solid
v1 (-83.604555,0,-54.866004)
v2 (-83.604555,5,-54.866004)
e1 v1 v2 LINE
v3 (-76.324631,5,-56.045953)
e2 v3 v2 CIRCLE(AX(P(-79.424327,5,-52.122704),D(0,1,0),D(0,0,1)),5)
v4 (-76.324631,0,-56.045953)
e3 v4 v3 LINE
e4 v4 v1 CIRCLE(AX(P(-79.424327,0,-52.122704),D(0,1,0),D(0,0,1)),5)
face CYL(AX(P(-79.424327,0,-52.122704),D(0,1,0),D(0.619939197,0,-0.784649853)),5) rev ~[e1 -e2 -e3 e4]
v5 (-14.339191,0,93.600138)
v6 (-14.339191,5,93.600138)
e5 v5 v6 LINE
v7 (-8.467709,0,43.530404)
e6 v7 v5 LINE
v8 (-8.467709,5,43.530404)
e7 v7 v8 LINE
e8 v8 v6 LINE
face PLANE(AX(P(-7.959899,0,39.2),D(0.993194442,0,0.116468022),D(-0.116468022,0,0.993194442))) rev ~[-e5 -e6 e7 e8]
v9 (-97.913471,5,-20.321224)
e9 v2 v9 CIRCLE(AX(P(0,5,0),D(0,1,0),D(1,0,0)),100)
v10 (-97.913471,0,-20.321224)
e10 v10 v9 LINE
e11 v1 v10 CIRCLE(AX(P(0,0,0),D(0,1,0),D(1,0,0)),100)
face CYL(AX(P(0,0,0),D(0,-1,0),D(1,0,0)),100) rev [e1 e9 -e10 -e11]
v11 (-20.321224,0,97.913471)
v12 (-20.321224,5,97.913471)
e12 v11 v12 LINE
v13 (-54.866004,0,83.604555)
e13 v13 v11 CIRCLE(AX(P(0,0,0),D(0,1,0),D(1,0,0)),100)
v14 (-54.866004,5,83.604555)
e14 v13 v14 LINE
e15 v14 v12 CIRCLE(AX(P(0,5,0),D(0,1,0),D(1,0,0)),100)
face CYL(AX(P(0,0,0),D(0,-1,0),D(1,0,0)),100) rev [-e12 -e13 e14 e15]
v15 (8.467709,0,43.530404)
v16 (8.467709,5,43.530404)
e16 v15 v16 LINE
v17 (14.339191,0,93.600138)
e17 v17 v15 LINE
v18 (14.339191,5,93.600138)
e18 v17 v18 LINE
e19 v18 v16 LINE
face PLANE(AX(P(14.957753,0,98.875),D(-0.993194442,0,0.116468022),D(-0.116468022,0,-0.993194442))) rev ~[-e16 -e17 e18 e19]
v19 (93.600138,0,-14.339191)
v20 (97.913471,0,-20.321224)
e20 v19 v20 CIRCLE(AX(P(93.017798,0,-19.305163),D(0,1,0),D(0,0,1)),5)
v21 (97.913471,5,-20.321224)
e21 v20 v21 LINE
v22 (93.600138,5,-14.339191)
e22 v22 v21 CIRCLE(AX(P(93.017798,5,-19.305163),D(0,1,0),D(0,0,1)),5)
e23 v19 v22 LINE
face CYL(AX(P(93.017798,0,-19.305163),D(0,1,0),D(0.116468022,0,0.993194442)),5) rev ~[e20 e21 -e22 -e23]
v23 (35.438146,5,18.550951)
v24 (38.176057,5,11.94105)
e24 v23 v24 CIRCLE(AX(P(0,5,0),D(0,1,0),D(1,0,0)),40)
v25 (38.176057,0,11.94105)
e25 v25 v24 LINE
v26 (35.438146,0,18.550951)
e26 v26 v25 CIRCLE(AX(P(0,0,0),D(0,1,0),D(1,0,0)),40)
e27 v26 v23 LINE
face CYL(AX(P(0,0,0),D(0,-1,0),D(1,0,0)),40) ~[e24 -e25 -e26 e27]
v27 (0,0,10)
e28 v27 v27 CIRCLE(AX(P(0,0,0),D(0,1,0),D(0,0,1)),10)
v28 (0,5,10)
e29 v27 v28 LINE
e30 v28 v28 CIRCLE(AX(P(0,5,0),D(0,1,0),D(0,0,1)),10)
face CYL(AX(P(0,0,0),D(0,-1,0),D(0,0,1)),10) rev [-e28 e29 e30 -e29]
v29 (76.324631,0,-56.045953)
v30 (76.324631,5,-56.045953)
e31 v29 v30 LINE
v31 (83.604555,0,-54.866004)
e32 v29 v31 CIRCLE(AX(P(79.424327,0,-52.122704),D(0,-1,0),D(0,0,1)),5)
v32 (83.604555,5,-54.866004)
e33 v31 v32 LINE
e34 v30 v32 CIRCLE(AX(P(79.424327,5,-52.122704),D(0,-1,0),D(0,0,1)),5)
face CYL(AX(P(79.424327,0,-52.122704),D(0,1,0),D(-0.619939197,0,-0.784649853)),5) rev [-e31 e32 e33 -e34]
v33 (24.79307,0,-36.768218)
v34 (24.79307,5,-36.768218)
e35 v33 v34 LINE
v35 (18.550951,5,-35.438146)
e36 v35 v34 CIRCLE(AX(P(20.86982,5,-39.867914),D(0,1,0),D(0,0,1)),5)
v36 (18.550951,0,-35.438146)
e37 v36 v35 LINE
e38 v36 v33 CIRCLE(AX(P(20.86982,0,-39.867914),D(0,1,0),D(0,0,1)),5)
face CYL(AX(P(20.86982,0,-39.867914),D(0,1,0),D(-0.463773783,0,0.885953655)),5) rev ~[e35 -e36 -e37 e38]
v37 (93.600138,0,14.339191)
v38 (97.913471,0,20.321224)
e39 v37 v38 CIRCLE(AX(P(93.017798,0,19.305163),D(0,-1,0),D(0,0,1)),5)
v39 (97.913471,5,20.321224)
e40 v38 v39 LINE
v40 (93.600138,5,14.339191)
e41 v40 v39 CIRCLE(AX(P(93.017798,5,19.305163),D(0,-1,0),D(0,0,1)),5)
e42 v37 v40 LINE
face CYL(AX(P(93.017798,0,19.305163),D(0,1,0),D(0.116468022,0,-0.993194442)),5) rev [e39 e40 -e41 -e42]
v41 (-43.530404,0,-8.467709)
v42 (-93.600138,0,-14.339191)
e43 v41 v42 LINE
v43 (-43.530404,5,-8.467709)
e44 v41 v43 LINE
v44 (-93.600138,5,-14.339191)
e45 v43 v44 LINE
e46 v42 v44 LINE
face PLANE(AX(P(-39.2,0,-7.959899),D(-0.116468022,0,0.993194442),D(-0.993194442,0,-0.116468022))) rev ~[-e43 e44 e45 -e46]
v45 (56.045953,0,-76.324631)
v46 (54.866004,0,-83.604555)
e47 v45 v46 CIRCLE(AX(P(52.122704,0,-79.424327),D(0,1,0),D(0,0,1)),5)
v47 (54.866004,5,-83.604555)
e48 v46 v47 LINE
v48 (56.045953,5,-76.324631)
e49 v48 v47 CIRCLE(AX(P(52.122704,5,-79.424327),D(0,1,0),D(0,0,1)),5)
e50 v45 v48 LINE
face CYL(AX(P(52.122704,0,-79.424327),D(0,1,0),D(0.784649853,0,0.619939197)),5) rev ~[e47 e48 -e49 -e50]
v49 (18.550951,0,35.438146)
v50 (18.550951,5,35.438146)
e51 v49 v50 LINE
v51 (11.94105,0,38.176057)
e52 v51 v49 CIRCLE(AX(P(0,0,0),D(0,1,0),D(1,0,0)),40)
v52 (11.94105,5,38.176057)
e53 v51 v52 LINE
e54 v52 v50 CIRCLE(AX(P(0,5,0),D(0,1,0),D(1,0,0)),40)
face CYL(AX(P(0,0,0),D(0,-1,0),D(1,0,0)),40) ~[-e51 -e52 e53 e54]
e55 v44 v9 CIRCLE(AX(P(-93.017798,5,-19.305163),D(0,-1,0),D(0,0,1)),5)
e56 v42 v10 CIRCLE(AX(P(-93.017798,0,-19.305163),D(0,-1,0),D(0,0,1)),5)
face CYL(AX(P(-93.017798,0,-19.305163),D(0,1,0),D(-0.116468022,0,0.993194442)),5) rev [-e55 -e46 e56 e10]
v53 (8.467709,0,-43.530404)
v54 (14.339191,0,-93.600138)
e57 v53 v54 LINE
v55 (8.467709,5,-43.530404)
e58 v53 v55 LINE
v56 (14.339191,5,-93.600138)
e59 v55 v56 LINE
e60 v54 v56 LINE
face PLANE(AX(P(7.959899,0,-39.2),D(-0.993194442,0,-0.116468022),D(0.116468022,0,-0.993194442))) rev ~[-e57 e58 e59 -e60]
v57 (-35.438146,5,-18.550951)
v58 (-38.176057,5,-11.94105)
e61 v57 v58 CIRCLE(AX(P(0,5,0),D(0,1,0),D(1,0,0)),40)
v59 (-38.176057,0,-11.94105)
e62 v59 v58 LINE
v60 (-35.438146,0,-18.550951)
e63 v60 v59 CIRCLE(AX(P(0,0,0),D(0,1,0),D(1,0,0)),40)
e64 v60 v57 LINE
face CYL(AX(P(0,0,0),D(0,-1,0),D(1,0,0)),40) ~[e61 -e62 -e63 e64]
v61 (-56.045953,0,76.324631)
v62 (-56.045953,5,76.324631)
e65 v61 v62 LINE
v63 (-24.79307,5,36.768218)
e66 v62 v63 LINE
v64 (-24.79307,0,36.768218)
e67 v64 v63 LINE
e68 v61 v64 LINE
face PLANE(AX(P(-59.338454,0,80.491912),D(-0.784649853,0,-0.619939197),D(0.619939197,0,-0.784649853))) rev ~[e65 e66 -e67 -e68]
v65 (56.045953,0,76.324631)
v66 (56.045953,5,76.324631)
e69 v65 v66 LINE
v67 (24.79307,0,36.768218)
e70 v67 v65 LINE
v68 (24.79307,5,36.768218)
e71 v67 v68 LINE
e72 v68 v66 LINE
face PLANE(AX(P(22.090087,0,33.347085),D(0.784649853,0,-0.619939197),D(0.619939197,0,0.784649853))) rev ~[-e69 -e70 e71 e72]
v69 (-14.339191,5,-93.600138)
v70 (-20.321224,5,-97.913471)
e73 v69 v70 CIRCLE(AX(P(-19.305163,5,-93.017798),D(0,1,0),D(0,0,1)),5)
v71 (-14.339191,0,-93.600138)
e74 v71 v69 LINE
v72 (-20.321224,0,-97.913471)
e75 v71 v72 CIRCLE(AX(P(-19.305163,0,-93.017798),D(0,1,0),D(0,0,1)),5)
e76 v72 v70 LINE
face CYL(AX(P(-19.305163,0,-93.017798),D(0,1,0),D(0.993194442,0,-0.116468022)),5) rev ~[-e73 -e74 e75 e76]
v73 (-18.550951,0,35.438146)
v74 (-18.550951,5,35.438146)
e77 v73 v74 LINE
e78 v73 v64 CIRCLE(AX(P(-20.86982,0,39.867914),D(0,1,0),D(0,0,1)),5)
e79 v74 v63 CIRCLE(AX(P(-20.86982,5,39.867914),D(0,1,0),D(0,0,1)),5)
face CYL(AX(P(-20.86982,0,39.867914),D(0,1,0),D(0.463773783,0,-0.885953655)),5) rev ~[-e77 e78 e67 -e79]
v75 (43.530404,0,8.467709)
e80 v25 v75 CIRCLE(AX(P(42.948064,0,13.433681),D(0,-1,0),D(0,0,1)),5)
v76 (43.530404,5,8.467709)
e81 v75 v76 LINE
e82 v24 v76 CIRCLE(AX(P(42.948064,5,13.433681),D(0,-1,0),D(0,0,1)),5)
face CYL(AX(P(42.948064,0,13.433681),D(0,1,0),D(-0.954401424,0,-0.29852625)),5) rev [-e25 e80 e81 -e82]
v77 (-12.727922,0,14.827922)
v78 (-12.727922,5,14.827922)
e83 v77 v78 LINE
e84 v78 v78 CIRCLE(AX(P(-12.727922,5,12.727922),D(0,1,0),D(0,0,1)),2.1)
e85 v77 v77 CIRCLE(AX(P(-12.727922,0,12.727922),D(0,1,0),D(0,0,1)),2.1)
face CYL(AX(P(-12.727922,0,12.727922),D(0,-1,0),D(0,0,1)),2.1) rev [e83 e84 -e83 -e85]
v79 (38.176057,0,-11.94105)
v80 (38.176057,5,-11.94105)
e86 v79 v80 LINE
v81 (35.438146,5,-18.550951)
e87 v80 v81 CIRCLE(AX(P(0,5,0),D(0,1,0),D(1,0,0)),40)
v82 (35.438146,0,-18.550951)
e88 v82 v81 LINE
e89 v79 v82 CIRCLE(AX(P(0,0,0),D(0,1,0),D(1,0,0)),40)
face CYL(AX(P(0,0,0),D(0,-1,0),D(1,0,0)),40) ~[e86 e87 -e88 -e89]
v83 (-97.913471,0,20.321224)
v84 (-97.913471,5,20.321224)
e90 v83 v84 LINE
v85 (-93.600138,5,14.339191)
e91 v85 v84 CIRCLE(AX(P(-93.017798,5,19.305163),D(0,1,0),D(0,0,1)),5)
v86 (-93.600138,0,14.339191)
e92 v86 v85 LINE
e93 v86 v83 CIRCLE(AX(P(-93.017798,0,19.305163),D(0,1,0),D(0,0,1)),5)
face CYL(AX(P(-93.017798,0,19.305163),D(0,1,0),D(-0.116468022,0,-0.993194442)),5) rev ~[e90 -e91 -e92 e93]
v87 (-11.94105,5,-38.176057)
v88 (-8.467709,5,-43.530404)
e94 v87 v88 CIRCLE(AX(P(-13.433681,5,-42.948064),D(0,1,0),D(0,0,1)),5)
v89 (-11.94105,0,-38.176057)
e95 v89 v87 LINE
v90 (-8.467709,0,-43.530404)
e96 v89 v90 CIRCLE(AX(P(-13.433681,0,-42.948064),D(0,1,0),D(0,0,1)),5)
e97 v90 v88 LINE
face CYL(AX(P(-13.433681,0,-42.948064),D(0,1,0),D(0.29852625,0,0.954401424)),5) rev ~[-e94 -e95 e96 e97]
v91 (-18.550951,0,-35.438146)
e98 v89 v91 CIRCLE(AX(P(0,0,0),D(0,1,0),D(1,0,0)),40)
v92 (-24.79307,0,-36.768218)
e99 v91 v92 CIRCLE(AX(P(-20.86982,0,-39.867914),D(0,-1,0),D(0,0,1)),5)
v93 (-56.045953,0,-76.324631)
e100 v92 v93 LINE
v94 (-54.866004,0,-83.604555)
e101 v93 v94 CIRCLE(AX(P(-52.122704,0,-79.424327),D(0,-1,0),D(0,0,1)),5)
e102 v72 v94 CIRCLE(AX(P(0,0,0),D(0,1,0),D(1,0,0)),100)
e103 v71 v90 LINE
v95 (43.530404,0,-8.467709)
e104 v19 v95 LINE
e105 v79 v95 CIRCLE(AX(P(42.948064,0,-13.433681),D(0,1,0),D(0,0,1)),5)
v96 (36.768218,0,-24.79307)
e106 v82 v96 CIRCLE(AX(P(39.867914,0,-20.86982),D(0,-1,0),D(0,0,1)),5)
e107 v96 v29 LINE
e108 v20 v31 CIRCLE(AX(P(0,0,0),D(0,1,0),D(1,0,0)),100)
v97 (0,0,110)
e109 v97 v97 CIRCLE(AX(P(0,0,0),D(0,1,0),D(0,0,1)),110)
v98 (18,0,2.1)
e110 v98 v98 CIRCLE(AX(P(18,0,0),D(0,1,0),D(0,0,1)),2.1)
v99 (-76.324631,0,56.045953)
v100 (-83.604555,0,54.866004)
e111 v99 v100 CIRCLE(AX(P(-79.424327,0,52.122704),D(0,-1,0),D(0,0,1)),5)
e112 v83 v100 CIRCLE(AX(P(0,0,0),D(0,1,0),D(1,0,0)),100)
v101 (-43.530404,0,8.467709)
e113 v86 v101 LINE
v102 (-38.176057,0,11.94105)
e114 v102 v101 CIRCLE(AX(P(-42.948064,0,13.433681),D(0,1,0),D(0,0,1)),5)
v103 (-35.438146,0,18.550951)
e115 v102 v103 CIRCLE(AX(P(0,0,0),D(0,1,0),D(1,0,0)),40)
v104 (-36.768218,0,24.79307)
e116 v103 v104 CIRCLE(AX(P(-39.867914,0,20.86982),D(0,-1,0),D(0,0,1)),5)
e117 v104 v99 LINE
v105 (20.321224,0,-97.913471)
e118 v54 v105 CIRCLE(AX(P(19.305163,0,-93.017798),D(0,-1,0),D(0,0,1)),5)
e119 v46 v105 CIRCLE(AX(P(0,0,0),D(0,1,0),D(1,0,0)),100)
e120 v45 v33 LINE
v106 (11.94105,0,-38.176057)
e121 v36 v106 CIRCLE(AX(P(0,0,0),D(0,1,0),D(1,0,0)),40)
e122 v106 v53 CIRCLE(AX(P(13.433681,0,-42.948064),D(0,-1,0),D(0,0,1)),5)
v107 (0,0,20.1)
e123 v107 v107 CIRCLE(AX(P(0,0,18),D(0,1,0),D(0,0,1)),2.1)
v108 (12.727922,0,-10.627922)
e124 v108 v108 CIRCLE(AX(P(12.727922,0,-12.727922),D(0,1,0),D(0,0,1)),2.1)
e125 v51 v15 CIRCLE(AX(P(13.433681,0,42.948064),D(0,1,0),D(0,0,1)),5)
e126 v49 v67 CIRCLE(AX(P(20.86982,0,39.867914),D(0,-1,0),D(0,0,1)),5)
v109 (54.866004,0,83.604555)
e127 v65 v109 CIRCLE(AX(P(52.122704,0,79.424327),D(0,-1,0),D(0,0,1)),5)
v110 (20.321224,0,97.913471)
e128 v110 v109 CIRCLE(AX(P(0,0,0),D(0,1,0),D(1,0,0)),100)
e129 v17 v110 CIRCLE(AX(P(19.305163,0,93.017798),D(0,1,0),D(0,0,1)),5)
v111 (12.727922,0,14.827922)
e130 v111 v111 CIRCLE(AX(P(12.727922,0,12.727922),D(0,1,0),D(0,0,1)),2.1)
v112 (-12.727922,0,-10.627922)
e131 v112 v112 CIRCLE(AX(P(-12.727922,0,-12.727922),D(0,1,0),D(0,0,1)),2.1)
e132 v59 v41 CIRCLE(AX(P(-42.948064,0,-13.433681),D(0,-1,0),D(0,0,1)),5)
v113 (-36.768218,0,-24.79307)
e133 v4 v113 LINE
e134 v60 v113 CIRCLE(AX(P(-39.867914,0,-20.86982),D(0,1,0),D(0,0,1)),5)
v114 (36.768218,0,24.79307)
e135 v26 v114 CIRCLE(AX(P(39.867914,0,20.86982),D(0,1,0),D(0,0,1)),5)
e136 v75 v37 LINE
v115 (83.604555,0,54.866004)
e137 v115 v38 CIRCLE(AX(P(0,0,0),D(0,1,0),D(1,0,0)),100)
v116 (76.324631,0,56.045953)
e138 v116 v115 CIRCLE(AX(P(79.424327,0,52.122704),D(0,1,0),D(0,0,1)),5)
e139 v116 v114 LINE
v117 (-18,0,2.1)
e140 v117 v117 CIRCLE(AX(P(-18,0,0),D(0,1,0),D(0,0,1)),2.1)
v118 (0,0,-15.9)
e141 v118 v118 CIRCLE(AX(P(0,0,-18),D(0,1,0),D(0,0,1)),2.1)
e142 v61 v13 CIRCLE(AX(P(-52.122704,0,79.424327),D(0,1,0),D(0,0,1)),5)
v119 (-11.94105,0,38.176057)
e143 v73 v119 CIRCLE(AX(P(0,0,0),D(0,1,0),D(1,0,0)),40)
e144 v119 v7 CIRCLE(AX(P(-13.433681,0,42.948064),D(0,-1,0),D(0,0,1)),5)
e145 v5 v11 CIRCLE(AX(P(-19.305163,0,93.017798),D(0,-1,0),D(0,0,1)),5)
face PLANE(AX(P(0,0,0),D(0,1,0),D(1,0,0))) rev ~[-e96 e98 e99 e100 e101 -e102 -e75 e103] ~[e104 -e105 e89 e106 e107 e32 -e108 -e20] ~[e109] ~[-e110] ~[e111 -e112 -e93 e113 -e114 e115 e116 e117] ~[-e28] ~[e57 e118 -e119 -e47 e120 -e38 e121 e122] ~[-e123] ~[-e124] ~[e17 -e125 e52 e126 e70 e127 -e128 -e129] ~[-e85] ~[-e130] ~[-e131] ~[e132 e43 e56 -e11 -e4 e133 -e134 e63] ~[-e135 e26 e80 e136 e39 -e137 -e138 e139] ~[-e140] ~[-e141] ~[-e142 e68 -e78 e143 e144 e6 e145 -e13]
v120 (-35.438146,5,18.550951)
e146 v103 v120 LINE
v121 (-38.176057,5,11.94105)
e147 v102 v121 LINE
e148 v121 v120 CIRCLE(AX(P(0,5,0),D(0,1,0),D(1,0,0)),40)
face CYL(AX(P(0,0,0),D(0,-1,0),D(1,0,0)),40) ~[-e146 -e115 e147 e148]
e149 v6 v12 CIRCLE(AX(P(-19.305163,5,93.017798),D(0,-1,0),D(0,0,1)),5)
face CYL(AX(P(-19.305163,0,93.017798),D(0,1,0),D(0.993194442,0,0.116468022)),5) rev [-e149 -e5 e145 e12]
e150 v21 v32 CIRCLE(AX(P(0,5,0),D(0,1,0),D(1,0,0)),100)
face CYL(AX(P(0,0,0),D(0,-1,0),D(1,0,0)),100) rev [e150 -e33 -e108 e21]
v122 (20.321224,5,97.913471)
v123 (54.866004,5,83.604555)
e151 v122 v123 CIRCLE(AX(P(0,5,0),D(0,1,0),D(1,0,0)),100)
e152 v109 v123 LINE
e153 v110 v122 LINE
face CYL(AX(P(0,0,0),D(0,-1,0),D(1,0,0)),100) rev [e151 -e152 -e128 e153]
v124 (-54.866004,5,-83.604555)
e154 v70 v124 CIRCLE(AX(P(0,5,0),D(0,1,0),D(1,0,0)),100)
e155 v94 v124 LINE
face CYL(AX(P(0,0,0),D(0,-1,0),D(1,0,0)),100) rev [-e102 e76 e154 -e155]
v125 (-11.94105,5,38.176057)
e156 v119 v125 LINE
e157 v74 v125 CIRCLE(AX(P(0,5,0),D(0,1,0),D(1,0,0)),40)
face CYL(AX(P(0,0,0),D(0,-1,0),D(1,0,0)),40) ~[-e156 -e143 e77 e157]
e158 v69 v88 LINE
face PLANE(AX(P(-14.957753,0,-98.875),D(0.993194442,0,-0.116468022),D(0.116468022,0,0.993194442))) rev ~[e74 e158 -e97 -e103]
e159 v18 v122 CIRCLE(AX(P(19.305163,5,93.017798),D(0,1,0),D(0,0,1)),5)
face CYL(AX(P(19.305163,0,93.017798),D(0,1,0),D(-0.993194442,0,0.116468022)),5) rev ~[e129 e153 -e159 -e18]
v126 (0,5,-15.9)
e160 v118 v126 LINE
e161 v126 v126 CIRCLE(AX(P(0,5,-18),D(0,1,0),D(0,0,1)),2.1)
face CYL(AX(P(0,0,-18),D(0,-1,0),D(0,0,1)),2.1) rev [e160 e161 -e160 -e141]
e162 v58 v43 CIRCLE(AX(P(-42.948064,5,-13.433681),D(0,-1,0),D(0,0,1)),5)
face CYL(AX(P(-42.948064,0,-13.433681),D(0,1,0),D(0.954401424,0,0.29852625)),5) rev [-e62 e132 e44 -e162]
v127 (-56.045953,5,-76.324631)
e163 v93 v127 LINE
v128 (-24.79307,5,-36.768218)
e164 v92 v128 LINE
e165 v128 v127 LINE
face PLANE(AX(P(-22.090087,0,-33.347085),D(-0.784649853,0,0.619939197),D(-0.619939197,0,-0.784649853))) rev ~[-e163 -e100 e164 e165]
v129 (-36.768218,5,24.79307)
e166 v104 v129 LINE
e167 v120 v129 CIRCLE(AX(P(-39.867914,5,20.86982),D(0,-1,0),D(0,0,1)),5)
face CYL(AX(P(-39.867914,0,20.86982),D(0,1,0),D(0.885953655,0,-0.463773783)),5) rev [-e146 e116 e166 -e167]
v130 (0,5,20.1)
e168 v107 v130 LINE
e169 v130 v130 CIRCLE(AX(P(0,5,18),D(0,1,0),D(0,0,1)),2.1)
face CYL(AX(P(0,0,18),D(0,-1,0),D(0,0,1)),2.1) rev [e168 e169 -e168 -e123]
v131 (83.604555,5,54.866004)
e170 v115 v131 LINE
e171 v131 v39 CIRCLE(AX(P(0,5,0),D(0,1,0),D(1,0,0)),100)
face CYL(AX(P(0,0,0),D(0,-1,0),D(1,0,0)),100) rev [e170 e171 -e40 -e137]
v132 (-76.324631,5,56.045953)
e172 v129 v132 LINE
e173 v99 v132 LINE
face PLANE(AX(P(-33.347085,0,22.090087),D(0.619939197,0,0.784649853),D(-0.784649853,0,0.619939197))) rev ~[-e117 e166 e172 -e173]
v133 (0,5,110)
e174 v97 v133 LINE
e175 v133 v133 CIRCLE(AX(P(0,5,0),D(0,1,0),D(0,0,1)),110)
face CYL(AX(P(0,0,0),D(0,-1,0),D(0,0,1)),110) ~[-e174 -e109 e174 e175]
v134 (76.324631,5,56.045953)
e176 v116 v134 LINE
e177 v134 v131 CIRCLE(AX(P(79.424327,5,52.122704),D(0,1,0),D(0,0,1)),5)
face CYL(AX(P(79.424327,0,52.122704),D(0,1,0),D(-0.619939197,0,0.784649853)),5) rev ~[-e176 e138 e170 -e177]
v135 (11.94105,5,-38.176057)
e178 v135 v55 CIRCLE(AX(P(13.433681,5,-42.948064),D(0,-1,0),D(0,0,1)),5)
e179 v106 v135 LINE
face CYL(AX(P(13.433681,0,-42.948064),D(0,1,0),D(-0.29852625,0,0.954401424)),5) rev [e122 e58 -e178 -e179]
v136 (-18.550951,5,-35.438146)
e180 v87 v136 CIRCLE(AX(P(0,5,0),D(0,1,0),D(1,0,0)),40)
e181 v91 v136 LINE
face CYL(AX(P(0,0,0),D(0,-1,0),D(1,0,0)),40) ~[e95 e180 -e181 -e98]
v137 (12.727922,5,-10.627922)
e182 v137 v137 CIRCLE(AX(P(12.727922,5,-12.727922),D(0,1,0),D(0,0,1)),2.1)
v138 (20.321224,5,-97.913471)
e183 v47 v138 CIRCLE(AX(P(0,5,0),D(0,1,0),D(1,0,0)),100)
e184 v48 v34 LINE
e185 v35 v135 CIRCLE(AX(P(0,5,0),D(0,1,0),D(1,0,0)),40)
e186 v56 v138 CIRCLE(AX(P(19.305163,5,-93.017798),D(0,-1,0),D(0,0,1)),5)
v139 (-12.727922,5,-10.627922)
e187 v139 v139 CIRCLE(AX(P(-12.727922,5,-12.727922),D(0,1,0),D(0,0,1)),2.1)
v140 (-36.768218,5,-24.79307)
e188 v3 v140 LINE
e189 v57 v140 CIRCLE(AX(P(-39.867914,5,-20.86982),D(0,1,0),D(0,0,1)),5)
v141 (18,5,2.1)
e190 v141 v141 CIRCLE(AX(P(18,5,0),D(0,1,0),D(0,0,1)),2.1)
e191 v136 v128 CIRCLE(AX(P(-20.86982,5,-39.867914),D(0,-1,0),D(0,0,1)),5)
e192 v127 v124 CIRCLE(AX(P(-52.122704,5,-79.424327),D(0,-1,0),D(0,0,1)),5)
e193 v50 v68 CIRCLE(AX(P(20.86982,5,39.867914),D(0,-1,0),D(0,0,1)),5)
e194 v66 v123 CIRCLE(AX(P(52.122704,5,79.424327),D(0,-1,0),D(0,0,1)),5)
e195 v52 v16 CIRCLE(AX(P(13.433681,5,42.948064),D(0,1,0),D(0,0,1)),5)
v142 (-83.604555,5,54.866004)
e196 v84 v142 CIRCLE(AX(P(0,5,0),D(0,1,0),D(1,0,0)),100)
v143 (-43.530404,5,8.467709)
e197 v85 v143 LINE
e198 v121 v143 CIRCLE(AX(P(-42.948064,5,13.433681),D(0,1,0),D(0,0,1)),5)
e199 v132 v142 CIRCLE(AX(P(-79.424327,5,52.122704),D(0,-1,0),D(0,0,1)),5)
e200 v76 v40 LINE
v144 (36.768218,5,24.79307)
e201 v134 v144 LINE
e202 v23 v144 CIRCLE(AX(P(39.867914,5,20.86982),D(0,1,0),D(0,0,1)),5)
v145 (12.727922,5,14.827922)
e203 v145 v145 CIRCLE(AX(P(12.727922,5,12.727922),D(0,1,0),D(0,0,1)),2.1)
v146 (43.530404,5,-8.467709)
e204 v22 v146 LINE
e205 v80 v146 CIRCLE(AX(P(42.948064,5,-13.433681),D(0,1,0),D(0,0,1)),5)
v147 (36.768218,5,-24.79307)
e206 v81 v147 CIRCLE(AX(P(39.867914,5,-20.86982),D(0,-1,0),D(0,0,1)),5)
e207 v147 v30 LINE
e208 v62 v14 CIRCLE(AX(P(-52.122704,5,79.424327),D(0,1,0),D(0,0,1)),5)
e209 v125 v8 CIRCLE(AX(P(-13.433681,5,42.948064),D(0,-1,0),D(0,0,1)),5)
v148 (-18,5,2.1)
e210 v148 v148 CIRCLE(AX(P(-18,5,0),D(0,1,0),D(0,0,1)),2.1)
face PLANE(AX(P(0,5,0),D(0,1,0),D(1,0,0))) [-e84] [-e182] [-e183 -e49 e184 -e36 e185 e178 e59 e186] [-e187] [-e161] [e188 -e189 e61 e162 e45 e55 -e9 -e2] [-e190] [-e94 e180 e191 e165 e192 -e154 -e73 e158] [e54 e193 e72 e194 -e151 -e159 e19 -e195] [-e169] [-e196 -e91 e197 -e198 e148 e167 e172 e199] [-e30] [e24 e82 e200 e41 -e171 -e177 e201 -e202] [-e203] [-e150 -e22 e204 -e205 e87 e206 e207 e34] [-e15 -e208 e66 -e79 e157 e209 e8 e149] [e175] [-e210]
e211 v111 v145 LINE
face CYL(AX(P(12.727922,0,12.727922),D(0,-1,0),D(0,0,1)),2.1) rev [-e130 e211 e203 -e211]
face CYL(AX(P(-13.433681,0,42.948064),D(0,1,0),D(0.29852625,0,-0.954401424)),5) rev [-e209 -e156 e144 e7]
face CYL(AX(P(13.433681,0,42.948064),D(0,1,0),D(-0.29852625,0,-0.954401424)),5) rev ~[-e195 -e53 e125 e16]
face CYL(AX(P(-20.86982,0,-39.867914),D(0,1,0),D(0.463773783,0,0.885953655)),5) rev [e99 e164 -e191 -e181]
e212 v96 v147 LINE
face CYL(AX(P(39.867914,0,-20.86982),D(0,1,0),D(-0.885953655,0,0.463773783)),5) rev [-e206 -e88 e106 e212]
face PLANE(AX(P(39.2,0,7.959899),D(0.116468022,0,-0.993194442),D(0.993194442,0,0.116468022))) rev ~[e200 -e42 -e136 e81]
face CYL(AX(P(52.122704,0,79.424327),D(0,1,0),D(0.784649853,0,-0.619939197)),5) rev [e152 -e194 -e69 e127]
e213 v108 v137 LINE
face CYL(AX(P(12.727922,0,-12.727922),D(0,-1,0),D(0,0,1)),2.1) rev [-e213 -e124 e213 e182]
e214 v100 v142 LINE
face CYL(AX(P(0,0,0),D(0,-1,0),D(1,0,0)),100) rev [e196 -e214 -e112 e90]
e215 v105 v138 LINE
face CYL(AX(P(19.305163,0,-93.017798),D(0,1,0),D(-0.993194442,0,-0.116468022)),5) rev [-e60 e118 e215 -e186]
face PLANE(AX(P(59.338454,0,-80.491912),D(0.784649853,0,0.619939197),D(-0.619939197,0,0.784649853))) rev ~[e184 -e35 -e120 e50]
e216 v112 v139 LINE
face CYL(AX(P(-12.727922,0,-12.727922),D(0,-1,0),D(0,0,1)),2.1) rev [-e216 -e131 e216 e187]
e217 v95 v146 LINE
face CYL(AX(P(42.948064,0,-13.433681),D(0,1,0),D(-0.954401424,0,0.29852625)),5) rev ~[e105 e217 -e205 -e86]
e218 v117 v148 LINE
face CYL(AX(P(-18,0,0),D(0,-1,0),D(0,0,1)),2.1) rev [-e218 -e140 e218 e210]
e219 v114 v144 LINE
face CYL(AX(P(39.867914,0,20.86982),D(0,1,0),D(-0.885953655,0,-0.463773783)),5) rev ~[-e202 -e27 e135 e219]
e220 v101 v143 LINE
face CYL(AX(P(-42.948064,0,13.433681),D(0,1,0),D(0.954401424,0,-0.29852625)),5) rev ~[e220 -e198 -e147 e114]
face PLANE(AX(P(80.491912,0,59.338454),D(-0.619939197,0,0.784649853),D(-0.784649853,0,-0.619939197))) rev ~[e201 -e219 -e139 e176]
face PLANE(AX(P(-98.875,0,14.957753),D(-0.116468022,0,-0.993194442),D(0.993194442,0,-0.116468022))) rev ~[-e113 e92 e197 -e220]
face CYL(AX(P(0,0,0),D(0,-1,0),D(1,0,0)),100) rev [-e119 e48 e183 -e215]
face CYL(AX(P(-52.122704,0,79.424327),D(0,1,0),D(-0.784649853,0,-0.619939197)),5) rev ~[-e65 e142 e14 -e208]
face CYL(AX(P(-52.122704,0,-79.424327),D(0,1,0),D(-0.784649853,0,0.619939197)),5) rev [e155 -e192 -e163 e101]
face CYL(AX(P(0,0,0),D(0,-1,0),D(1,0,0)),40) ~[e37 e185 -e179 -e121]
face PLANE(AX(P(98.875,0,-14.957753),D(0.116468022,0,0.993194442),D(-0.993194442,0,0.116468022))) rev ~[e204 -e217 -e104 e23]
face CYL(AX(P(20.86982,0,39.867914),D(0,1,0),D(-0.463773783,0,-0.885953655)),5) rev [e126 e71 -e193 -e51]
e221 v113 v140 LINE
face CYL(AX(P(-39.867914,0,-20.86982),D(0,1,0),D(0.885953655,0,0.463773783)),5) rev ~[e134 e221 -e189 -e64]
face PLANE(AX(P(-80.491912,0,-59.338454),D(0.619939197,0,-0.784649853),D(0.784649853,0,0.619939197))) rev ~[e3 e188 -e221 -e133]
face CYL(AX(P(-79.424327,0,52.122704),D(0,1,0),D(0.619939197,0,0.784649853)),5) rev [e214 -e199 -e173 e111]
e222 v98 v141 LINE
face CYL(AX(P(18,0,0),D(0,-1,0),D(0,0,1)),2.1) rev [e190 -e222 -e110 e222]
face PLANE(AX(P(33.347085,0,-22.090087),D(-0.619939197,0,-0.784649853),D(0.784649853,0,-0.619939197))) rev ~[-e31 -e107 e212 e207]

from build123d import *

# Parameters (mm, degrees)
SKETCH_1_R      = 110
SKETCH_1_R_2    = 100
SKETCH_1_R_3    = 40
SKETCH_1_R_4    = 25
SKETCH_1_R_5    = 2.1
SKETCH_1_R_6    = 10
EXTRUDE_3_DEPTH = 5
FILLET_2_R      = 5


with BuildPart() as part:
    # Эскиз1 → Бобышка-Вытянуть3 (new body)
    # profile 1 of 11: a face of its own
    with BuildSketch(Plane(origin=(0, 0, 0), x_dir=(1, 0, 0), z_dir=(0, 1, 0))):
        with Locations(Location((0, 0, 0), (0, 0, 270))):
            Circle(SKETCH_1_R)
        Circle(SKETCH_1_R_2, mode=Mode.SUBTRACT)
    # profile 2 of 11: a face of its own
    with BuildSketch(Plane(origin=(0, 0, 0), x_dir=(1, 0, 0), z_dir=(0, 1, 0))):
        with BuildLine():
            ThreePointArc((-98.875, 14.957753006), (-100, 0), (-98.875, -14.957753006))
            Line((-98.875, -14.957753006), (-39.2, -7.959899497))
            ThreePointArc((-39.2, -7.959899497), (-40, 0), (-39.2, 7.959899497))
            Line((-39.2, 7.959899497), (-98.875, 14.957753006))
        make_face()
    # profile 3 of 11: a face of its own
    with BuildSketch(Plane(origin=(0, 0, 0), x_dir=(1, 0, 0), z_dir=(0, 1, 0))):
        with BuildLine():
            ThreePointArc((-59.338454408, 80.491911572), (-70.710678119, 70.710678119), (-80.491911572, 59.338454408))
            Line((-80.491911572, 59.338454408), (-33.347084734, 22.090086911))
            ThreePointArc((-33.347084734, 22.090086911), (-28.284271247, 28.284271247), (-22.090086911, 33.347084734))
            Line((-22.090086911, 33.347084734), (-59.338454408, 80.491911572))
        make_face()
    # profile 4 of 11: a face of its own
    with BuildSketch(Plane(origin=(0, 0, 0), x_dir=(1, 0, 0), z_dir=(0, 1, 0))):
        with BuildLine():
            ThreePointArc((14.957753006, 98.875), (0, 100), (-14.957753006, 98.875))
            Line((-14.957753006, 98.875), (-7.959899497, 39.2))
            ThreePointArc((-7.959899497, 39.2), (0, 40), (7.959899497, 39.2))
            Line((7.959899497, 39.2), (14.957753006, 98.875))
        make_face()
    # profile 5 of 11: a face of its own
    with BuildSketch(Plane(origin=(0, 0, 0), x_dir=(1, 0, 0), z_dir=(0, 1, 0))):
        with BuildLine():
            Line((33.347084734, 22.090086911), (80.491911572, 59.338454408))
            ThreePointArc((80.491911572, 59.338454408), (70.710678119, 70.710678119), (59.338454408, 80.491911572))
            Line((59.338454408, 80.491911572), (22.090086911, 33.347084734))
            ThreePointArc((22.090086911, 33.347084734), (28.284271247, 28.284271247), (33.347084734, 22.090086911))
        make_face()
    # profile 6 of 11: a face of its own
    with BuildSketch(Plane(origin=(0, 0, 0), x_dir=(1, 0, 0), z_dir=(0, 1, 0))):
        with BuildLine():
            Line((39.2, -7.959899497), (98.875, -14.957753006))
            ThreePointArc((98.875, -14.957753006), (99.718353376, -7.5), (100, 0))
            ThreePointArc((100, 0), (99.718353376, 7.5), (98.875, 14.957753006))
            Line((98.875, 14.957753006), (39.2, 7.959899497))
            ThreePointArc((39.2, 7.959899497), (39.799497484, 4), (40, 0))
            ThreePointArc((40, 0), (39.799497484, -4), (39.2, -7.959899497))
        make_face()
    # profile 7 of 11: a face of its own
    with BuildSketch(Plane(origin=(0, 0, 0), x_dir=(1, 0, 0), z_dir=(0, 1, 0))):
        with BuildLine():
            Line((22.090086911, -33.347084734), (59.338454408, -80.491911572))
            ThreePointArc((59.338454408, -80.491911572), (70.710678119, -70.710678119), (80.491911572, -59.338454408))
            Line((80.491911572, -59.338454408), (33.347084734, -22.090086911))
            ThreePointArc((33.347084734, -22.090086911), (28.284271247, -28.284271247), (22.090086911, -33.347084734))
        make_face()
    # profile 8 of 11: a face of its own
    with BuildSketch(Plane(origin=(0, 0, 0), x_dir=(1, 0, 0), z_dir=(0, 1, 0))):
        with BuildLine():
            Line((-7.959899497, -39.2), (-14.957753006, -98.875))
            ThreePointArc((-14.957753006, -98.875), (0, -100), (14.957753006, -98.875))
            Line((14.957753006, -98.875), (7.959899497, -39.2))
            ThreePointArc((7.959899497, -39.2), (0, -40), (-7.959899497, -39.2))
        make_face()
    # profile 9 of 11: a face of its own
    with BuildSketch(Plane(origin=(0, 0, 0), x_dir=(1, 0, 0), z_dir=(0, 1, 0))):
        with BuildLine():
            ThreePointArc((-80.491911572, -59.338454408), (-70.710678119, -70.710678119), (-59.338454408, -80.491911572))
            Line((-59.338454408, -80.491911572), (-22.090086911, -33.347084734))
            ThreePointArc((-22.090086911, -33.347084734), (-28.284271247, -28.284271247), (-33.347084734, -22.090086911))
            Line((-33.347084734, -22.090086911), (-80.491911572, -59.338454408))
        make_face()
    # profile 10 of 11: a face of its own
    with BuildSketch(Plane(origin=(0, 0, 0), x_dir=(1, 0, 0), z_dir=(0, 1, 0))):
        Circle(SKETCH_1_R_3)
        Circle(SKETCH_1_R_4, mode=Mode.SUBTRACT)
    # profile 11 of 11: a face of its own
    with BuildSketch(Plane(origin=(0, 0, 0), x_dir=(1, 0, 0), z_dir=(0, 1, 0))):
        Circle(SKETCH_1_R_4)
        with Locations(Location((-12.727922061, 12.727922061, 0), (0, 0, 270))):
            Circle(SKETCH_1_R_5, mode=Mode.SUBTRACT)
        with Locations(Location((12.727922061, 12.727922061, 0), (0, 0, 270))):
            Circle(SKETCH_1_R_5, mode=Mode.SUBTRACT)
        with Locations(Location((18, 0, 0), (0, 0, 270))):
            Circle(SKETCH_1_R_5, mode=Mode.SUBTRACT)
        with Locations(Location((-12.727922061, -12.727922061, 0), (0, 0, 270))):
            Circle(SKETCH_1_R_5, mode=Mode.SUBTRACT)
        with Locations(Location((0, -18, 0), (0, 0, 270))):
            Circle(SKETCH_1_R_5, mode=Mode.SUBTRACT)
        with Locations(Location((-18, 0, 0), (0, 0, 270))):
            Circle(SKETCH_1_R_5, mode=Mode.SUBTRACT)
        with Locations(Location((12.727922061, -12.727922061, 0), (0, 0, 270))):
            Circle(SKETCH_1_R_5, mode=Mode.SUBTRACT)
        with Locations(Location((0, 18, 0), (0, 0, 270))):
            Circle(SKETCH_1_R_5, mode=Mode.SUBTRACT)
        with Locations(Location((0, 0, 0), (0, 0, 270))):
            Circle(SKETCH_1_R_6, mode=Mode.SUBTRACT)
    extrude(amount=EXTRUDE_3_DEPTH)

    # Скругление2
    fillet_2_edges = [part.edges().sort_by_distance(p)[0] for p in [
        (59.338454408, 2.5, 80.491911572),
        (22.090086911, 2.5, 33.347084734),
        (7.959899497, 2.5, 39.2),
        (14.957753006, 2.5, 98.875),
        (80.491911572, 2.5, 59.338454408),
        (98.875, 2.5, 14.957753006),
        (39.2, 2.5, 7.959899497),
        (33.347084734, 2.5, 22.090086911),
        (98.875, 2.5, -14.957753006),
        (80.491911572, 2.5, -59.338454408),
        (33.347084734, 2.5, -22.090086911),
        (39.2, 2.5, -7.959899497),
        (59.338454408, 2.5, -80.491911572),
        (14.957753006, 2.5, -98.875),
        (7.959899497, 2.5, -39.2),
        (22.090086911, 2.5, -33.347084734),
        (-14.957753006, 2.5, -98.875),
        (-59.338454408, 2.5, -80.491911572),
        (-22.090086911, 2.5, -33.347084734),
        (-7.959899497, 2.5, -39.2),
        (-80.491911572, 2.5, -59.338454408),
        (-98.875, 2.5, -14.957753006),
        (-39.2, 2.5, -7.959899497),
        (-33.347084734, 2.5, -22.090086911),
        (-98.875, 2.5, 14.957753006),
        (-80.491911572, 2.5, 59.338454408),
        (-33.347084734, 2.5, 22.090086911),
        (-39.2, 2.5, 7.959899497),
        (-59.338454408, 2.5, 80.491911572),
        (-14.957753006, 2.5, 98.875),
        (-7.959899497, 2.5, 39.2),
        (-22.090086911, 2.5, 33.347084734),
    ]]
    fillet(fillet_2_edges, radius=FILLET_2_R)


solid = part.part
